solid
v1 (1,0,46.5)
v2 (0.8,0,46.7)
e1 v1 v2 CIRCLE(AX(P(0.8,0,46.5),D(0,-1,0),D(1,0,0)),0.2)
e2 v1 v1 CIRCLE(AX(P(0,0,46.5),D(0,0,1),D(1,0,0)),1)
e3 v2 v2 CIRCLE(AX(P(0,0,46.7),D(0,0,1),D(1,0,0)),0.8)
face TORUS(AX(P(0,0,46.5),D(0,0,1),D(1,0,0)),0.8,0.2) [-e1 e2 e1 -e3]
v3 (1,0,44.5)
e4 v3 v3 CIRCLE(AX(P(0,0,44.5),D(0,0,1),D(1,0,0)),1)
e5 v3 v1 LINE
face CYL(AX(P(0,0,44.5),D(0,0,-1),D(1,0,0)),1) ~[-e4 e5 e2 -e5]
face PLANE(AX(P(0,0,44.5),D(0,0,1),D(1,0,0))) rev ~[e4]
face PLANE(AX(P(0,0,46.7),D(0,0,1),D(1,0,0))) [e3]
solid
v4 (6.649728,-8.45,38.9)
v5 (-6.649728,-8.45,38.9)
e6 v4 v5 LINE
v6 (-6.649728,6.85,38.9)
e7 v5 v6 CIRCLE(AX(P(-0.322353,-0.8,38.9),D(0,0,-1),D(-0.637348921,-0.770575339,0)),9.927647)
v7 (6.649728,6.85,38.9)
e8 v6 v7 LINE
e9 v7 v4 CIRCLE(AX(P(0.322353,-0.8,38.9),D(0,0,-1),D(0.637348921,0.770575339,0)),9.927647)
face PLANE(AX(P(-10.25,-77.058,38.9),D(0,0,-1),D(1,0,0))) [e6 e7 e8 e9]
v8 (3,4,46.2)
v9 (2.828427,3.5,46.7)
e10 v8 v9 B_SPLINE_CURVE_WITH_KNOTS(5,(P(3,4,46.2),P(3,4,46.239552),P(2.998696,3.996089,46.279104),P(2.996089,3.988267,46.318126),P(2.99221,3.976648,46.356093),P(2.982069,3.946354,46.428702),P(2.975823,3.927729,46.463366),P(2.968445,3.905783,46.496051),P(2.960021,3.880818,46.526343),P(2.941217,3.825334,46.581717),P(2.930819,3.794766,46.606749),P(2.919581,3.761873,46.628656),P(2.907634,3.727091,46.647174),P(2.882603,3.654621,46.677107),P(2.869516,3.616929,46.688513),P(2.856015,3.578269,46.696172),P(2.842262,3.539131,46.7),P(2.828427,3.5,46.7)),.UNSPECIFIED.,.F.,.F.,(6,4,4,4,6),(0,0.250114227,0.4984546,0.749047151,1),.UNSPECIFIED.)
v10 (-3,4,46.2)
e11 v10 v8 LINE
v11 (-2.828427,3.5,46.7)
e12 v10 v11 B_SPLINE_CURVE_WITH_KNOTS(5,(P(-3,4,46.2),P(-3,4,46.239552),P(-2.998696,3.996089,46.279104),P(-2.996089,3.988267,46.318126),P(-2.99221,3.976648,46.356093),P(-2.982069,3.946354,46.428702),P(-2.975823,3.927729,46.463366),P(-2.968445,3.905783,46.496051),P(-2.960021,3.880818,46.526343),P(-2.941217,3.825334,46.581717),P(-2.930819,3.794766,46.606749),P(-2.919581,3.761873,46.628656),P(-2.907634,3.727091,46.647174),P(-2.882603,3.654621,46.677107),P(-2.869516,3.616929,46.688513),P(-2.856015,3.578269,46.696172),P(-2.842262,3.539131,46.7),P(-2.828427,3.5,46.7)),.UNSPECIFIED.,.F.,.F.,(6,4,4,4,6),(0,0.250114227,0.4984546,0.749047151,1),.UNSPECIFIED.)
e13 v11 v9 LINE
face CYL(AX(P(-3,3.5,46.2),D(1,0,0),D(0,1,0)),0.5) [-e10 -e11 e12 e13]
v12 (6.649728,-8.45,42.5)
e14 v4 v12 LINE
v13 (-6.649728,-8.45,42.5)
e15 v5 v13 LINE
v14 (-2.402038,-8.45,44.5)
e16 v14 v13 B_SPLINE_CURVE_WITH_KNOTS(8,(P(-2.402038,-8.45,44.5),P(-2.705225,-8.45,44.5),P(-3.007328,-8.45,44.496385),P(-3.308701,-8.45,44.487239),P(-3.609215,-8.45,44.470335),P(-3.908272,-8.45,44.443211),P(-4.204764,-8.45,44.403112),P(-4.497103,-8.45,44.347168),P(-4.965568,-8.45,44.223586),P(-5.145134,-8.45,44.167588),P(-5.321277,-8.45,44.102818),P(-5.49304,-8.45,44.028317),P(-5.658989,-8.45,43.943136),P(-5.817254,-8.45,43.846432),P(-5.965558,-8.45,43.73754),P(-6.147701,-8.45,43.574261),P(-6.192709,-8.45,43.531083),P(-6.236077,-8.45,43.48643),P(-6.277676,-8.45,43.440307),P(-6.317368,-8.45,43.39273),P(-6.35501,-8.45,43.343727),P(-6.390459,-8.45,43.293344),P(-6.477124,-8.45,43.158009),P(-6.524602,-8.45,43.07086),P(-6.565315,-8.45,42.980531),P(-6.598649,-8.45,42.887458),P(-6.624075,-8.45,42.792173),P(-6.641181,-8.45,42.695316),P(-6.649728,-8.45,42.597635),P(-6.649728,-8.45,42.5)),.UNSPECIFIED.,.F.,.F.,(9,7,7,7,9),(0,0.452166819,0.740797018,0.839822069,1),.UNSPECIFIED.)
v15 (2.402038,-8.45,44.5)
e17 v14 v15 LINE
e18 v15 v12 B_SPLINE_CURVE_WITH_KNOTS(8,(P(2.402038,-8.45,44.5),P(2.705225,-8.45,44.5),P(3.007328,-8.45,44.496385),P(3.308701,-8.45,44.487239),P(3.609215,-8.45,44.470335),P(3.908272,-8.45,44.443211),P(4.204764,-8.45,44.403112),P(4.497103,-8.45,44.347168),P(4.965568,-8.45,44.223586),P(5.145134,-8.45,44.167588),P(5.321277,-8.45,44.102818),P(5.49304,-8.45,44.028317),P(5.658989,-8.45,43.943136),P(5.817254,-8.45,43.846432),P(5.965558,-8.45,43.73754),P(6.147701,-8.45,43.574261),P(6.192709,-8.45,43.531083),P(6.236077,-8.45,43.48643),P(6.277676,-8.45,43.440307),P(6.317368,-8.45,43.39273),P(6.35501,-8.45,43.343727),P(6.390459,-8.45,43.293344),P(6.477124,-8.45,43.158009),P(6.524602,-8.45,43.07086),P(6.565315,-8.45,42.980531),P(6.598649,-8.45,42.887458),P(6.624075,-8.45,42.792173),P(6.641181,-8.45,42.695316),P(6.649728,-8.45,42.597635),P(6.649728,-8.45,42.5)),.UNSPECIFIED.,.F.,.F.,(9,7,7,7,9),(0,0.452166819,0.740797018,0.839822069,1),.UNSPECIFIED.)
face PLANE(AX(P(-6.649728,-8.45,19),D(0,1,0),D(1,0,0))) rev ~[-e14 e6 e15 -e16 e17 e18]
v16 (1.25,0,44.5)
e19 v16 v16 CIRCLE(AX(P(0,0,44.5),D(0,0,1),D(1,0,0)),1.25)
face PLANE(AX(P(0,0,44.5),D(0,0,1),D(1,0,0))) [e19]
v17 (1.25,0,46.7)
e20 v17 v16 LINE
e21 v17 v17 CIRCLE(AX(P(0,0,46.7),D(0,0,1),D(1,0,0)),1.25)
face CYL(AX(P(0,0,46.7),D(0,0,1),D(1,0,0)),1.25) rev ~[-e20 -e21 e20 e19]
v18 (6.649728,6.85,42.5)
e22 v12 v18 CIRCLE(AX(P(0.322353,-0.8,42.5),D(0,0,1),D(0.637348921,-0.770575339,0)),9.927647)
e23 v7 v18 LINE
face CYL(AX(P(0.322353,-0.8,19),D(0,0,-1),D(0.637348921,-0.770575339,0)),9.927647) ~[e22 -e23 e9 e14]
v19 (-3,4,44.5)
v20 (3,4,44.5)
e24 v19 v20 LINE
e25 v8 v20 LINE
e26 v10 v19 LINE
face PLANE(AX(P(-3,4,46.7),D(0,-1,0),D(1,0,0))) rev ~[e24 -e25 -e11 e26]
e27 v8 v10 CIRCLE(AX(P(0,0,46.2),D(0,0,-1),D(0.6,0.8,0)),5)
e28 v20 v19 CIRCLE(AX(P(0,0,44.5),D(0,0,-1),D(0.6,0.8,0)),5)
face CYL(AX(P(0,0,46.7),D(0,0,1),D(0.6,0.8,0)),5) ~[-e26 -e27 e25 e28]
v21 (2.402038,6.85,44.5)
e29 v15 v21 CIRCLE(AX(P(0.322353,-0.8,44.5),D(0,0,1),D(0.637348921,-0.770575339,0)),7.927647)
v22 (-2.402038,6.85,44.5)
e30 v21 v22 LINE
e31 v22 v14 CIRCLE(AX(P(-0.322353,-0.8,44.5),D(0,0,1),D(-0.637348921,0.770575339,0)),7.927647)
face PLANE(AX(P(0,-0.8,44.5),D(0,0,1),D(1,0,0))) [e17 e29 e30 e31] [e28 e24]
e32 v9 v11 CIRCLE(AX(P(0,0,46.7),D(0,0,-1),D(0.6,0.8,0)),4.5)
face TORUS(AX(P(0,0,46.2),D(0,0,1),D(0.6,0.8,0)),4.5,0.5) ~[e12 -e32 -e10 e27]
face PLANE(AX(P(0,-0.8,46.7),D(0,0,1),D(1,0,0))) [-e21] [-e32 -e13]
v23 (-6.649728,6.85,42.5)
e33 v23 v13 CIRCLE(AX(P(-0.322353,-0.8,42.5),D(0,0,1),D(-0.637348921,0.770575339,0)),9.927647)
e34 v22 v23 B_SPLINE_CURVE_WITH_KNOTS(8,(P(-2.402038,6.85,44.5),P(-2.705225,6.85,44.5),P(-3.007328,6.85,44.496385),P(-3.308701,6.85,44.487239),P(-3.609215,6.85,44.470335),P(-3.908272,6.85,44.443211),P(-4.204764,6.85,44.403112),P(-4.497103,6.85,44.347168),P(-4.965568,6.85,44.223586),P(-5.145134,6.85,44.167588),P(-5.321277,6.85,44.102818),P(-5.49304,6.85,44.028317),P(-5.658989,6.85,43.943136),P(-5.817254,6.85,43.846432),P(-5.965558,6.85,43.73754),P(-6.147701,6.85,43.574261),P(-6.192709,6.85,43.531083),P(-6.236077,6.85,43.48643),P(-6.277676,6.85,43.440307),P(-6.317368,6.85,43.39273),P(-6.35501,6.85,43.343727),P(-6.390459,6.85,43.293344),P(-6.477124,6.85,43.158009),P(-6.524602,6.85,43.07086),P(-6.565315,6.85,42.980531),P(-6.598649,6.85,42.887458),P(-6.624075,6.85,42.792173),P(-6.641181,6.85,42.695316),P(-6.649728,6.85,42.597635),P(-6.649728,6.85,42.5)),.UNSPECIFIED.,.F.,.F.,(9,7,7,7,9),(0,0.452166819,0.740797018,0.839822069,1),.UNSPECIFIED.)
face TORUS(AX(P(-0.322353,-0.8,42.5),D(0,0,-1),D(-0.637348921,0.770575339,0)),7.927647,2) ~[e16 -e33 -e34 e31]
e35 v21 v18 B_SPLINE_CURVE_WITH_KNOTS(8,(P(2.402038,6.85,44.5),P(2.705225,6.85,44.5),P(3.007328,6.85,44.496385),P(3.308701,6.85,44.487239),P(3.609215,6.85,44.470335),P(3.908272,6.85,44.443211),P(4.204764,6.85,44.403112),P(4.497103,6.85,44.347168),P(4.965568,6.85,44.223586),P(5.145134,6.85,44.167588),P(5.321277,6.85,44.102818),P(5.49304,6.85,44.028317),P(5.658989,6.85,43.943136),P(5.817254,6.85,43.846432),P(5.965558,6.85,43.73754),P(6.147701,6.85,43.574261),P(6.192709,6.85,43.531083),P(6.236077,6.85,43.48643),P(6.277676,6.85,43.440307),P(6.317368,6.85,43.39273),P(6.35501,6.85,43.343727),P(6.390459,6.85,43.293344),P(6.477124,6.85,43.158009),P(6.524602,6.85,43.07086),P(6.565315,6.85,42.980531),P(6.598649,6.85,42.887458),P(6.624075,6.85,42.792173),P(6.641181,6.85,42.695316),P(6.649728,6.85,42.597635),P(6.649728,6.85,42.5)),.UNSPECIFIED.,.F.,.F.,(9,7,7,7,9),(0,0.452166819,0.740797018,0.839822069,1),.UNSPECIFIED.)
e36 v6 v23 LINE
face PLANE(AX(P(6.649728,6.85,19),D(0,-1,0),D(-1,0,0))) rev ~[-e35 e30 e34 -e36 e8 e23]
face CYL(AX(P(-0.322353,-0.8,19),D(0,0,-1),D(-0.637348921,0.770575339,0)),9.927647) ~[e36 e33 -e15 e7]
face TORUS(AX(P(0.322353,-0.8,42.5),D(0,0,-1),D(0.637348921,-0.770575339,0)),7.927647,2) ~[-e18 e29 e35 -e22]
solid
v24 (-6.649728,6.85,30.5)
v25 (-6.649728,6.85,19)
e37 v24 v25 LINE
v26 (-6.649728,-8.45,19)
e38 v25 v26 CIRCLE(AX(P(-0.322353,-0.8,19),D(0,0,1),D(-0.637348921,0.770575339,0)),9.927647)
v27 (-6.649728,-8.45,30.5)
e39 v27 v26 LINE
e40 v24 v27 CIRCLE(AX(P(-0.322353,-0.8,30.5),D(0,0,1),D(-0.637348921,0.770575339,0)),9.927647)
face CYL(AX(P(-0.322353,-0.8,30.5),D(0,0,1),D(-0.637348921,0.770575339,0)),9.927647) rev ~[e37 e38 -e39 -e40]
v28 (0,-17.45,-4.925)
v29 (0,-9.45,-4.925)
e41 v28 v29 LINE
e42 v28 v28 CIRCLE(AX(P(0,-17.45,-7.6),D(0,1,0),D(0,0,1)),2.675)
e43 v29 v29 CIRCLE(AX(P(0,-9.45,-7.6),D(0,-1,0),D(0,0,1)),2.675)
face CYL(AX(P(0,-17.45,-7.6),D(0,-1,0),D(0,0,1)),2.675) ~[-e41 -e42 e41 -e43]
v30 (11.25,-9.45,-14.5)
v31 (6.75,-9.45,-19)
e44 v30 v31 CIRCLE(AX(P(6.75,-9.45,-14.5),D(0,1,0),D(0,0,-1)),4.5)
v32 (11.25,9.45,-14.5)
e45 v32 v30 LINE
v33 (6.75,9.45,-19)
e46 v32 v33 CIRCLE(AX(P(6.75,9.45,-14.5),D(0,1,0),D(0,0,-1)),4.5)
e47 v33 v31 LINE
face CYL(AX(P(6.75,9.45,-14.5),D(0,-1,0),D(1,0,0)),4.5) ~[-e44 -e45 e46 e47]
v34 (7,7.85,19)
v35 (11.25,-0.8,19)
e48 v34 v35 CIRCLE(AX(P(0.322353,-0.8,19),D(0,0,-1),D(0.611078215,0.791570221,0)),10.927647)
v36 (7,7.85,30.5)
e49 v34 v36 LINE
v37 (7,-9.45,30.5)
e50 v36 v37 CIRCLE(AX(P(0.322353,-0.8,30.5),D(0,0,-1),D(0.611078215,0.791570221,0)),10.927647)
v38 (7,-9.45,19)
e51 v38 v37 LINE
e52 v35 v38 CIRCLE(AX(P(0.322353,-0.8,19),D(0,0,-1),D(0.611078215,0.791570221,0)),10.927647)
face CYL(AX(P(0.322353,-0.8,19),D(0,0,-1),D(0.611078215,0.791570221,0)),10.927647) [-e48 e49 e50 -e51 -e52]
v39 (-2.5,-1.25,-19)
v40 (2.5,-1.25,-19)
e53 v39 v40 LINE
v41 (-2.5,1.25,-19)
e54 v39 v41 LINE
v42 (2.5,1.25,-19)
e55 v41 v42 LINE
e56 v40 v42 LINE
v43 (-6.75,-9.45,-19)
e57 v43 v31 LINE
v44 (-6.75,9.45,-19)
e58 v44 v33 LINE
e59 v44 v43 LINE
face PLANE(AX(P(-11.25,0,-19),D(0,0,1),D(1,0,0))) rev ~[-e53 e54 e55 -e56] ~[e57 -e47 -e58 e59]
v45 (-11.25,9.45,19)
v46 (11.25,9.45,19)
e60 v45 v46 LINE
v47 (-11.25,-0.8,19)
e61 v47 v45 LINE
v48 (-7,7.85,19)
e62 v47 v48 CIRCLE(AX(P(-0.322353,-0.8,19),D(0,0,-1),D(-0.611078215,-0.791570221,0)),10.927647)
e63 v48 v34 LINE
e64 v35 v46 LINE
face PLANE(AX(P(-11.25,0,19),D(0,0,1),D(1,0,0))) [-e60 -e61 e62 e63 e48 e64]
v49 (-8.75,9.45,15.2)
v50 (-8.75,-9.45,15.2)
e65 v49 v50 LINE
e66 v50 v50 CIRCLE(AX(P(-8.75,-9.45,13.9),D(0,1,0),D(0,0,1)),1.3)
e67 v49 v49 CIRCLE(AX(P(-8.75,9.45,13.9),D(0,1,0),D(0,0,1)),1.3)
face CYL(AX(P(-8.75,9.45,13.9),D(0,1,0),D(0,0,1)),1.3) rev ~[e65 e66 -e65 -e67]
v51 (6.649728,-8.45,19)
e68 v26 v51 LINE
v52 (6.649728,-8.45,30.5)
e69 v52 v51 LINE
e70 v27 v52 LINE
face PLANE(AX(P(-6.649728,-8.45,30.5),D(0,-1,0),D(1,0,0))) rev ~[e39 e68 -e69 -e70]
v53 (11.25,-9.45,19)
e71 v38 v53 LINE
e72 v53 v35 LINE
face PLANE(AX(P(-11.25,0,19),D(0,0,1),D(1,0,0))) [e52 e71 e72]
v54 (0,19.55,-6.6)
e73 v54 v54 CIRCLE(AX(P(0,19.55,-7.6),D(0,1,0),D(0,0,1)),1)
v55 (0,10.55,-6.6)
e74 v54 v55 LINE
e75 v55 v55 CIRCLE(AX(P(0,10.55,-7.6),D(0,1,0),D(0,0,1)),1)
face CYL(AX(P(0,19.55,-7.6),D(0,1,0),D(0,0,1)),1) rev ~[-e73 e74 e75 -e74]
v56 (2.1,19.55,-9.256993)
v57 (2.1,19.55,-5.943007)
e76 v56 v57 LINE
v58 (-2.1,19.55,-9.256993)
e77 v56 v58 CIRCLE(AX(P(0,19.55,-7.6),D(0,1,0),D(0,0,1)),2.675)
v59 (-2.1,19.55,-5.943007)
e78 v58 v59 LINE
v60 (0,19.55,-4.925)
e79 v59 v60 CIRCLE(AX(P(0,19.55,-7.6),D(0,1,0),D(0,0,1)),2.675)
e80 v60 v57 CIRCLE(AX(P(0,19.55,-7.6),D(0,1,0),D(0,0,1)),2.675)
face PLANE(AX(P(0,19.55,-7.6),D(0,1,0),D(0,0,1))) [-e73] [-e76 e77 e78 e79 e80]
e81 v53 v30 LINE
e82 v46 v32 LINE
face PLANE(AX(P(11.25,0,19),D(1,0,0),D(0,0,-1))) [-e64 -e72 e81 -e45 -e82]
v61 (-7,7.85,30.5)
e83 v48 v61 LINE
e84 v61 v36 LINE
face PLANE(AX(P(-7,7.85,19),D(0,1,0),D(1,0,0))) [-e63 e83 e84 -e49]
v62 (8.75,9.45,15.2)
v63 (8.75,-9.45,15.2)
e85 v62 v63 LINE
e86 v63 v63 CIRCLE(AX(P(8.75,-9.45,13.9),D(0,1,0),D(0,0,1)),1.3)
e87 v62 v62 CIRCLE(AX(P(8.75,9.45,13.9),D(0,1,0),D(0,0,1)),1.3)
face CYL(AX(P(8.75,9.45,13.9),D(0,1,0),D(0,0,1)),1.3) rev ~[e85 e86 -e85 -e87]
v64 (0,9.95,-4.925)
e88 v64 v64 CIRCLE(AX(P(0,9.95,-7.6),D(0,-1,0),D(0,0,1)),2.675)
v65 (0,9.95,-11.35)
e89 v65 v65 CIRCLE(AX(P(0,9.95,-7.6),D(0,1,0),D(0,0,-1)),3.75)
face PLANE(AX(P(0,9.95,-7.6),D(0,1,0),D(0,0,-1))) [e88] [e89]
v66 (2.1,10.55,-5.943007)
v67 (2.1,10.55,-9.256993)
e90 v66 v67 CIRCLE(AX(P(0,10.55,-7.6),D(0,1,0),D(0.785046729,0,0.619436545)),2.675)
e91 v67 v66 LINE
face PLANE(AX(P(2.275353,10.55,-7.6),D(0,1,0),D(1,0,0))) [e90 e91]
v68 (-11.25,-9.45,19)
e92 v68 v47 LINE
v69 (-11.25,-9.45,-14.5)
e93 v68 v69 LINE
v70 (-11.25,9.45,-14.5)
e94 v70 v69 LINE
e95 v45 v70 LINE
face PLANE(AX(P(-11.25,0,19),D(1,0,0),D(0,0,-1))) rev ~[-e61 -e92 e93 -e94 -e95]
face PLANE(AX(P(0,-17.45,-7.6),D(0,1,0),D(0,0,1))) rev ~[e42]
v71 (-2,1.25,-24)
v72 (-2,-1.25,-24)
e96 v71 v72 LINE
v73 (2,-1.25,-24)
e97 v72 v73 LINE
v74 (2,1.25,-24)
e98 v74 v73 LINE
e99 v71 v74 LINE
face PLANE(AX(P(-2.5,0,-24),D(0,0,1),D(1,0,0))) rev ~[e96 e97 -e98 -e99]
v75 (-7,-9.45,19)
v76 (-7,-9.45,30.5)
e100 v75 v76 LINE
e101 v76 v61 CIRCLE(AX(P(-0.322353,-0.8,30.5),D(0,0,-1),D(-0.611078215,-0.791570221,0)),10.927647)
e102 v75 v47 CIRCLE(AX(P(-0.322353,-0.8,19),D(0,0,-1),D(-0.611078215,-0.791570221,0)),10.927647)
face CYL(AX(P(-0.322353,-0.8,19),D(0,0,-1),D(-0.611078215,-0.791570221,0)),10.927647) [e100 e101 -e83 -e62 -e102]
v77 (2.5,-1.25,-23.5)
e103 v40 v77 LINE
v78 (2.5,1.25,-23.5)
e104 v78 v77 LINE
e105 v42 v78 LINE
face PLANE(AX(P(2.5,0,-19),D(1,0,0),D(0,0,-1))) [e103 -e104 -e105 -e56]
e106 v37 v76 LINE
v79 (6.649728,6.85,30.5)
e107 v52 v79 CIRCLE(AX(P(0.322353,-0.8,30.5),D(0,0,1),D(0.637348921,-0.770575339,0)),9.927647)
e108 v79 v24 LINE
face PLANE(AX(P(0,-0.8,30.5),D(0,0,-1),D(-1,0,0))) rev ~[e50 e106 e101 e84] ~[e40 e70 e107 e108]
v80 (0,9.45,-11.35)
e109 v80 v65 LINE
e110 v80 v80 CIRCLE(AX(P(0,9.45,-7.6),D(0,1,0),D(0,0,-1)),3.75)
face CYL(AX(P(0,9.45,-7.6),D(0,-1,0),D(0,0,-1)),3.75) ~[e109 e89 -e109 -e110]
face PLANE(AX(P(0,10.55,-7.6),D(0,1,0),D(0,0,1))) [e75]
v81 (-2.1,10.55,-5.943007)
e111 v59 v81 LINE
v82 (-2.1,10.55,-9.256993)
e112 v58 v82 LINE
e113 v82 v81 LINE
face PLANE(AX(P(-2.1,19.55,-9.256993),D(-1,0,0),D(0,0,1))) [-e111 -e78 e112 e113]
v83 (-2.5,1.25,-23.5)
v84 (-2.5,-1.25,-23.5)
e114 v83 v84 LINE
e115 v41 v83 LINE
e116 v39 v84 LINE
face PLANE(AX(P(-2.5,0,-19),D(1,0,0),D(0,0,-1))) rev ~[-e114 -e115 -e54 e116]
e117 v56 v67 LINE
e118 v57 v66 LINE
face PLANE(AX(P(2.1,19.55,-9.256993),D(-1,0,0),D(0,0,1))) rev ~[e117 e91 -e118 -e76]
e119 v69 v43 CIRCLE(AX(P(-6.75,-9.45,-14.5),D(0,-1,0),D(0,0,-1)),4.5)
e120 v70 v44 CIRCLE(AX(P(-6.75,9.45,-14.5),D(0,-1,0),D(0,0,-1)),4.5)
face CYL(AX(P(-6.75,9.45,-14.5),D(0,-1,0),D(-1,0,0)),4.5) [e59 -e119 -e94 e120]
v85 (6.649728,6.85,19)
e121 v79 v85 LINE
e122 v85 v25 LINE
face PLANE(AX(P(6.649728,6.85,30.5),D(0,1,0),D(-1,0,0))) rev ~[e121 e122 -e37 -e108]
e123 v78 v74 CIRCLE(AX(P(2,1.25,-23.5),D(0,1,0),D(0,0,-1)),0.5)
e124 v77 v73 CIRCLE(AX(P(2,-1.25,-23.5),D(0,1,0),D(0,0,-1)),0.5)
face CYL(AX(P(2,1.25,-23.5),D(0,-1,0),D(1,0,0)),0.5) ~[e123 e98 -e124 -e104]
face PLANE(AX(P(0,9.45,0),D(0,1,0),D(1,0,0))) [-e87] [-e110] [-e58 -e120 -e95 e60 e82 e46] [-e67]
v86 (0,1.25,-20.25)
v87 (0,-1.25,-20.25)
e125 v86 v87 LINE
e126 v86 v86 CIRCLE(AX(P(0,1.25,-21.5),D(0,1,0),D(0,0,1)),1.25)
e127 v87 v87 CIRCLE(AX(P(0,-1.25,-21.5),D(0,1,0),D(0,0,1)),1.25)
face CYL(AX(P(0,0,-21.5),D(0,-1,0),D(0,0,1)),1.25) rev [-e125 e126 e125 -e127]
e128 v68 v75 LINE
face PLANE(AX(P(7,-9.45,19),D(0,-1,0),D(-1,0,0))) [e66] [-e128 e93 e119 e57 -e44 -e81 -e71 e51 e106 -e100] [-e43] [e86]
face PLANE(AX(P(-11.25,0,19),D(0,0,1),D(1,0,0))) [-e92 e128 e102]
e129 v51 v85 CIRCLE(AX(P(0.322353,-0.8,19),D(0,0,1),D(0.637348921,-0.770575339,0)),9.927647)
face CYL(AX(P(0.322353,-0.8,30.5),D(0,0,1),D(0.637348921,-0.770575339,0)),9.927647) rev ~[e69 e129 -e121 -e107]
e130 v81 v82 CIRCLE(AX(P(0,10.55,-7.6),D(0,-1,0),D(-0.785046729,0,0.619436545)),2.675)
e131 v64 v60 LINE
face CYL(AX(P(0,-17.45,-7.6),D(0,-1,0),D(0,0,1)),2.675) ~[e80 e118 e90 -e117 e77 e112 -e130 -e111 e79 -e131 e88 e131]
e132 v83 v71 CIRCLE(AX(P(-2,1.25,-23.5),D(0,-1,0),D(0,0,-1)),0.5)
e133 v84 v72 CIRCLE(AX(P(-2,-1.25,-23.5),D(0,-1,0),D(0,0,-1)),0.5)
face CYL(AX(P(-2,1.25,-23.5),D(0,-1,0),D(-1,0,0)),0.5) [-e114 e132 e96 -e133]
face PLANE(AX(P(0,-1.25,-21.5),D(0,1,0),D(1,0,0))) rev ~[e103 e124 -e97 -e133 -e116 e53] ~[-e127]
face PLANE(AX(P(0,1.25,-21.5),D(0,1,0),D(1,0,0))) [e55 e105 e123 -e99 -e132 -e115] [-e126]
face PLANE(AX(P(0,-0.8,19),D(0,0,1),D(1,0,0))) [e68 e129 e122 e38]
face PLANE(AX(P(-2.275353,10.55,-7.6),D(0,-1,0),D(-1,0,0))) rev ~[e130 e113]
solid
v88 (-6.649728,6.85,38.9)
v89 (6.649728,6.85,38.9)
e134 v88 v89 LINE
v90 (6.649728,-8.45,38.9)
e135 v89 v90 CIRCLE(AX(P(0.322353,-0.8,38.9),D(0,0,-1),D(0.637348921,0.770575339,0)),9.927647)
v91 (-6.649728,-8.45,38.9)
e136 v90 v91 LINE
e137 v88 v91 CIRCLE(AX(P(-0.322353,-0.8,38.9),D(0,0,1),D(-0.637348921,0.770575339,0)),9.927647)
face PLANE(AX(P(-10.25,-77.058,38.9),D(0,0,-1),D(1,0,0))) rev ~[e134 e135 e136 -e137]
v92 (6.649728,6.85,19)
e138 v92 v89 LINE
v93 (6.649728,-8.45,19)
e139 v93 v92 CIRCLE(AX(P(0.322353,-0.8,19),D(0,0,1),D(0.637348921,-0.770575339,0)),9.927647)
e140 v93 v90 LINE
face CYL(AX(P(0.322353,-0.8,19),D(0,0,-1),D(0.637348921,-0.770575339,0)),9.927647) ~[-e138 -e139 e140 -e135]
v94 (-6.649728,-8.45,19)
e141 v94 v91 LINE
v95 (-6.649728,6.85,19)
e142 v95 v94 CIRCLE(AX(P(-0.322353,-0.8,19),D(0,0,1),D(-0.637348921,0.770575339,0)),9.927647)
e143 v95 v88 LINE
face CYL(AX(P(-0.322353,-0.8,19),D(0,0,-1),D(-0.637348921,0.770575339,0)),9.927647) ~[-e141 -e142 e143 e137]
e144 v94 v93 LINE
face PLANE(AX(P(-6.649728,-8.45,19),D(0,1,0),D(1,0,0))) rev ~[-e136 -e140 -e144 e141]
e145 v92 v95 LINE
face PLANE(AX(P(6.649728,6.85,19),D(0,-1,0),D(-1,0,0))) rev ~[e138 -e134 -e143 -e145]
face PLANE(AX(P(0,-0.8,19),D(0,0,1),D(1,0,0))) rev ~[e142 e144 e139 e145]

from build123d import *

# Parameters (mm, degrees)
SKETCH1_W                = 22.5
SKETCH1_H                = 38
BOSS_EXTRUDE1_DEPTH      = 9.45
FILLET1_R                = 4.5
BOSS_EXTRUDE2_DEPTH      = 11.5
CUT_EXTRUDE1_DEPTH       = 11.5
SKETCH4_W                = 5
SKETCH4_H                = 5
SKETCH4_R                = 1.25
BOSS_EXTRUDE3_DEPTH      = 1.25
SKETCH5_R                = 3.75
BOSS_EXTRUDE4_DEPTH      = 0.5
BOSS_EXTRUDE5_DEPTH      = 9.6
BOSS_EXTRUDE5_DEPTH_BACK = 27.4
SKETCH6_R                = 2.675
CUT_EXTRUDE4_DEPTH       = 9
SKETCH8_R                = 1
CUT_EXTRUDE5_DEPTH       = 9
FILLET2_R                = 0.5
BOSS_EXTRUDE6_DEPTH      = 27.7
SPLIT1_SURFACE_1_BACK    = 83.908
SPLIT1_SURFACE_1_DEPTH   = 167.816
SPLIT1_SURFACE_2_BACK    = 83.908
SPLIT1_SURFACE_2_DEPTH   = 167.816
CUT_EXTRUDE6_DEPTH       = 2.2
FILLET4_R                = 0.5
FILLET3_R                = 2
SKETCH12_R               = 1.25
CUT_EXTRUDE7_DEPTH       = 2.2
SKETCH13_R               = 1
BOSS_EXTRUDE7_DEPTH      = 2.2
FILLET5_R                = 0.2
SKETCH14_R               = 1.3
CUT_EXTRUDE8_DEPTH       = 18.9


with BuildPart() as part:
    # Sketch1 → Boss-Extrude1 (new, symmetric)
    with BuildSketch(Plane(origin=(0, 0, 0), x_dir=(1, 0, 0), z_dir=(0, 1, 0))):
        Rectangle(SKETCH1_W, SKETCH1_H)
    extrude(amount=BOSS_EXTRUDE1_DEPTH, both=True)

    # Fillet1
    fillet1_edges = [part.edges().sort_by_distance(p)[0] for p in [
        (-11.25, 0, -19),
        (11.25, 0, -19),
    ]]
    fillet(fillet1_edges, radius=FILLET1_R)

    # Sketch2 → Boss-Extrude2 (add)
    with BuildSketch(Plane.XY.offset(19)):
        with BuildLine():
            Line((7, -9.45), (-7, -9.45))
            ThreePointArc((-7, -9.45), (-11.25, -0.8), (-7, 7.85))
            Line((-7, 7.85), (7, 7.85))
            ThreePointArc((7, 7.85), (11.25, -0.8), (7, -9.45))
        make_face()
    extrude(amount=BOSS_EXTRUDE2_DEPTH)

    # Sketch3 → Cut-Extrude1 (cut)
    with BuildSketch(Plane.XY.offset(30.5)):
        with BuildLine():
            Line((-6.649728078, -8.45), (6.649728078, -8.45))
            ThreePointArc((6.649728078, -8.45), (10.25, -0.8), (6.649728078, 6.85))
            Line((6.649728078, 6.85), (-6.649728078, 6.85))
            ThreePointArc((-6.649728078, 6.85), (-10.25, -0.8), (-6.649728078, -8.45))
        make_face()
    extrude(amount=-CUT_EXTRUDE1_DEPTH, mode=Mode.SUBTRACT)

    # Sketch4 → Boss-Extrude3 (add, symmetric)
    with BuildSketch(Plane(origin=(0, 0, 0), x_dir=(1, 0, 0), z_dir=(0, 1, 0))):
        with Locations((0, 21.5)):
            Rectangle(SKETCH4_W, SKETCH4_H)
        with Locations(Location((0, 21.5, 0), (0, 0, 270))):
            Circle(SKETCH4_R, mode=Mode.SUBTRACT)
    extrude(amount=BOSS_EXTRUDE3_DEPTH, both=True)

    # Sketch5 → Boss-Extrude4 (add)
    with BuildSketch(Plane(origin=(0, 9.45, 0), x_dir=(1, 0, 0), z_dir=(0, 1, 0))):
        with Locations(Location((0, 7.6, 0), (0, 0, 90))):
            Circle(SKETCH5_R)
    extrude(amount=BOSS_EXTRUDE4_DEPTH)

    # Sketch6 → Boss-Extrude5 (add, two sides: drawn at the far end of the back side and taken through both)
    with BuildSketch(Plane(origin=(0, 9.95, 0), x_dir=(1, 0, 0), z_dir=(0, 1, 0)).offset(-BOSS_EXTRUDE5_DEPTH_BACK)):
        with Locations(Location((0, 7.6, 0), (0, 0, 270))):
            Circle(SKETCH6_R)
    extrude(amount=BOSS_EXTRUDE5_DEPTH + BOSS_EXTRUDE5_DEPTH_BACK)

    # Sketch7 → Cut-Extrude4 (cut)
    with BuildSketch(Plane(origin=(0, 19.55, 0), x_dir=(1, 0, 0), z_dir=(0, 1, 0))):
        with BuildLine():
            Line((-2.1, 9.256992758), (-2.1, 5.943007242))
            ThreePointArc((-2.1, 5.943007242), (-2.675, 7.6), (-2.1, 9.256992758))
        make_face()
        with BuildLine():
            Line((2.1, 9.256992758), (2.1, 5.943007242))
            ThreePointArc((2.1, 5.943007242), (2.675, 7.6), (2.1, 9.256992758))
        make_face()
    extrude(amount=-CUT_EXTRUDE4_DEPTH, mode=Mode.SUBTRACT)

    # Sketch8 → Cut-Extrude5 (cut)
    with BuildSketch(Plane(origin=(0, 19.55, 0), x_dir=(1, 0, 0), z_dir=(0, 1, 0))):
        with Locations(Location((0, 7.6, 0), (0, 0, 270))):
            Circle(SKETCH8_R)
    extrude(amount=-CUT_EXTRUDE5_DEPTH, mode=Mode.SUBTRACT)

    # Fillet2
    fillet2_edges = [part.edges().sort_by_distance(p)[0] for p in [
        (-2.5, 0, -24),
        (2.5, 0, -24),
    ]]
    fillet(fillet2_edges, radius=FILLET2_R)

    # Sketch14 → Cut-Extrude8 (cut)
    with BuildSketch(Plane(origin=(0, 9.45, 0), x_dir=(1, 0, 0), z_dir=(0, 1, 0))):
        with Locations(Location((-8.75, -13.9, 0), (0, 0, 270))):
            Circle(SKETCH14_R)
        with Locations(Location((8.75, -13.9, 0), (0, 0, 270))):
            Circle(SKETCH14_R)
    extrude(amount=-CUT_EXTRUDE8_DEPTH, mode=Mode.SUBTRACT)


with BuildPart() as body_2:
    # Sketch9 → Boss-Extrude6 (new body)
    with BuildSketch(Plane.XY.offset(19)):
        with BuildLine():
            Line((-6.649728078, -8.45), (6.649728078, -8.45))
            ThreePointArc((6.649728078, -8.45), (10.25, -0.8), (6.649728078, 6.85))
            Line((6.649728078, 6.85), (-6.649728078, 6.85))
            ThreePointArc((-6.649728078, 6.85), (-10.25, -0.8), (-6.649728078, -8.45))
        make_face()
    extrude(amount=BOSS_EXTRUDE6_DEPTH)


with BuildPart() as body_3:
    # Split1: the piece behind the surface
    add(body_2.part)
    # Split1 surface: a surface, the sketch's curves swept straight by 167.816 mm
    with BuildLine(Plane(origin=(0, 6.85, 0), x_dir=(1, 0, 0), z_dir=(0, 1, 0)).offset(-SPLIT1_SURFACE_1_BACK), mode=Mode.PRIVATE) as split1_surface_1_path:
        Line((-10.25, -38.9), (10.25, -38.9))
    split1_surface_1 = Shell.extrude(split1_surface_1_path.wire(), (0 * SPLIT1_SURFACE_1_DEPTH, 1 * SPLIT1_SURFACE_1_DEPTH, 0 * SPLIT1_SURFACE_1_DEPTH))
    split(bisect_by=split1_surface_1, keep=Keep.BOTTOM)

    # Sketch11 → Cut-Extrude6 (cut)
    with BuildSketch(Plane.XY.offset(46.7)):
        with BuildLine():
            Line((-6.649728078, -8.45), (6.649728078, -8.45))
            ThreePointArc((6.649728078, -8.45), (10.25, -0.8), (6.649728078, 6.85))
            Line((6.649728078, 6.85), (-6.649728078, 6.85))
            ThreePointArc((-6.649728078, 6.85), (-10.25, -0.8), (-6.649728078, -8.45))
        make_face()
        with BuildLine():
            Line((-3, 4), (3, 4))
            ThreePointArc((3, 4), (0, -5), (-3, 4))
        make_face(mode=Mode.SUBTRACT)
    extrude(amount=-CUT_EXTRUDE6_DEPTH, mode=Mode.SUBTRACT)

    # Fillet4
    fillet4_edges = [body_3.edges().sort_by_distance(p)[0] for p in [
        (0, -5, 46.7),
        (0, 4, 46.7),
    ]]
    fillet(fillet4_edges, radius=FILLET4_R)

    # Fillet3
    fillet3_edges = [body_3.edges().sort_by_distance(p)[0] for p in [
        (-10.25, -0.8, 44.5),
        (10.25, -0.8, 44.5),
    ]]
    fillet(fillet3_edges, radius=FILLET3_R)

    # Sketch12 → Cut-Extrude7 (cut)
    with BuildSketch(Plane.XY.offset(46.7)):
        Circle(SKETCH12_R)
    extrude(amount=-CUT_EXTRUDE7_DEPTH, mode=Mode.SUBTRACT)


with BuildPart() as body_2_1:
    add(body_2.part)

    # Split1: split by a surface, the side it looks to stays
    # Split1 surface: a surface, the sketch's curves swept straight by 167.816 mm
    with BuildLine(Plane(origin=(0, 6.85, 0), x_dir=(1, 0, 0), z_dir=(0, 1, 0)).offset(-SPLIT1_SURFACE_2_BACK), mode=Mode.PRIVATE) as split1_surface_2_path:
        Line((-10.25, -38.9), (10.25, -38.9))
    split1_surface_2 = Shell.extrude(split1_surface_2_path.wire(), (0 * SPLIT1_SURFACE_2_DEPTH, 1 * SPLIT1_SURFACE_2_DEPTH, 0 * SPLIT1_SURFACE_2_DEPTH))
    split(bisect_by=split1_surface_2, keep=Keep.TOP)


with BuildPart() as body_4:
    # Sketch13 → Boss-Extrude7 (new body)
    with BuildSketch(Plane.XY.offset(44.5)):
        Circle(SKETCH13_R)
    extrude(amount=BOSS_EXTRUDE7_DEPTH)

    # Fillet5
    fillet5_edges = [body_4.edges().sort_by_distance(p)[0] for p in [
        (-1, 0, 46.7),
    ]]
    fillet(fillet5_edges, radius=FILLET5_R)


solid = Compound([part.part, body_3.part, body_2_1.part, body_4.part])
